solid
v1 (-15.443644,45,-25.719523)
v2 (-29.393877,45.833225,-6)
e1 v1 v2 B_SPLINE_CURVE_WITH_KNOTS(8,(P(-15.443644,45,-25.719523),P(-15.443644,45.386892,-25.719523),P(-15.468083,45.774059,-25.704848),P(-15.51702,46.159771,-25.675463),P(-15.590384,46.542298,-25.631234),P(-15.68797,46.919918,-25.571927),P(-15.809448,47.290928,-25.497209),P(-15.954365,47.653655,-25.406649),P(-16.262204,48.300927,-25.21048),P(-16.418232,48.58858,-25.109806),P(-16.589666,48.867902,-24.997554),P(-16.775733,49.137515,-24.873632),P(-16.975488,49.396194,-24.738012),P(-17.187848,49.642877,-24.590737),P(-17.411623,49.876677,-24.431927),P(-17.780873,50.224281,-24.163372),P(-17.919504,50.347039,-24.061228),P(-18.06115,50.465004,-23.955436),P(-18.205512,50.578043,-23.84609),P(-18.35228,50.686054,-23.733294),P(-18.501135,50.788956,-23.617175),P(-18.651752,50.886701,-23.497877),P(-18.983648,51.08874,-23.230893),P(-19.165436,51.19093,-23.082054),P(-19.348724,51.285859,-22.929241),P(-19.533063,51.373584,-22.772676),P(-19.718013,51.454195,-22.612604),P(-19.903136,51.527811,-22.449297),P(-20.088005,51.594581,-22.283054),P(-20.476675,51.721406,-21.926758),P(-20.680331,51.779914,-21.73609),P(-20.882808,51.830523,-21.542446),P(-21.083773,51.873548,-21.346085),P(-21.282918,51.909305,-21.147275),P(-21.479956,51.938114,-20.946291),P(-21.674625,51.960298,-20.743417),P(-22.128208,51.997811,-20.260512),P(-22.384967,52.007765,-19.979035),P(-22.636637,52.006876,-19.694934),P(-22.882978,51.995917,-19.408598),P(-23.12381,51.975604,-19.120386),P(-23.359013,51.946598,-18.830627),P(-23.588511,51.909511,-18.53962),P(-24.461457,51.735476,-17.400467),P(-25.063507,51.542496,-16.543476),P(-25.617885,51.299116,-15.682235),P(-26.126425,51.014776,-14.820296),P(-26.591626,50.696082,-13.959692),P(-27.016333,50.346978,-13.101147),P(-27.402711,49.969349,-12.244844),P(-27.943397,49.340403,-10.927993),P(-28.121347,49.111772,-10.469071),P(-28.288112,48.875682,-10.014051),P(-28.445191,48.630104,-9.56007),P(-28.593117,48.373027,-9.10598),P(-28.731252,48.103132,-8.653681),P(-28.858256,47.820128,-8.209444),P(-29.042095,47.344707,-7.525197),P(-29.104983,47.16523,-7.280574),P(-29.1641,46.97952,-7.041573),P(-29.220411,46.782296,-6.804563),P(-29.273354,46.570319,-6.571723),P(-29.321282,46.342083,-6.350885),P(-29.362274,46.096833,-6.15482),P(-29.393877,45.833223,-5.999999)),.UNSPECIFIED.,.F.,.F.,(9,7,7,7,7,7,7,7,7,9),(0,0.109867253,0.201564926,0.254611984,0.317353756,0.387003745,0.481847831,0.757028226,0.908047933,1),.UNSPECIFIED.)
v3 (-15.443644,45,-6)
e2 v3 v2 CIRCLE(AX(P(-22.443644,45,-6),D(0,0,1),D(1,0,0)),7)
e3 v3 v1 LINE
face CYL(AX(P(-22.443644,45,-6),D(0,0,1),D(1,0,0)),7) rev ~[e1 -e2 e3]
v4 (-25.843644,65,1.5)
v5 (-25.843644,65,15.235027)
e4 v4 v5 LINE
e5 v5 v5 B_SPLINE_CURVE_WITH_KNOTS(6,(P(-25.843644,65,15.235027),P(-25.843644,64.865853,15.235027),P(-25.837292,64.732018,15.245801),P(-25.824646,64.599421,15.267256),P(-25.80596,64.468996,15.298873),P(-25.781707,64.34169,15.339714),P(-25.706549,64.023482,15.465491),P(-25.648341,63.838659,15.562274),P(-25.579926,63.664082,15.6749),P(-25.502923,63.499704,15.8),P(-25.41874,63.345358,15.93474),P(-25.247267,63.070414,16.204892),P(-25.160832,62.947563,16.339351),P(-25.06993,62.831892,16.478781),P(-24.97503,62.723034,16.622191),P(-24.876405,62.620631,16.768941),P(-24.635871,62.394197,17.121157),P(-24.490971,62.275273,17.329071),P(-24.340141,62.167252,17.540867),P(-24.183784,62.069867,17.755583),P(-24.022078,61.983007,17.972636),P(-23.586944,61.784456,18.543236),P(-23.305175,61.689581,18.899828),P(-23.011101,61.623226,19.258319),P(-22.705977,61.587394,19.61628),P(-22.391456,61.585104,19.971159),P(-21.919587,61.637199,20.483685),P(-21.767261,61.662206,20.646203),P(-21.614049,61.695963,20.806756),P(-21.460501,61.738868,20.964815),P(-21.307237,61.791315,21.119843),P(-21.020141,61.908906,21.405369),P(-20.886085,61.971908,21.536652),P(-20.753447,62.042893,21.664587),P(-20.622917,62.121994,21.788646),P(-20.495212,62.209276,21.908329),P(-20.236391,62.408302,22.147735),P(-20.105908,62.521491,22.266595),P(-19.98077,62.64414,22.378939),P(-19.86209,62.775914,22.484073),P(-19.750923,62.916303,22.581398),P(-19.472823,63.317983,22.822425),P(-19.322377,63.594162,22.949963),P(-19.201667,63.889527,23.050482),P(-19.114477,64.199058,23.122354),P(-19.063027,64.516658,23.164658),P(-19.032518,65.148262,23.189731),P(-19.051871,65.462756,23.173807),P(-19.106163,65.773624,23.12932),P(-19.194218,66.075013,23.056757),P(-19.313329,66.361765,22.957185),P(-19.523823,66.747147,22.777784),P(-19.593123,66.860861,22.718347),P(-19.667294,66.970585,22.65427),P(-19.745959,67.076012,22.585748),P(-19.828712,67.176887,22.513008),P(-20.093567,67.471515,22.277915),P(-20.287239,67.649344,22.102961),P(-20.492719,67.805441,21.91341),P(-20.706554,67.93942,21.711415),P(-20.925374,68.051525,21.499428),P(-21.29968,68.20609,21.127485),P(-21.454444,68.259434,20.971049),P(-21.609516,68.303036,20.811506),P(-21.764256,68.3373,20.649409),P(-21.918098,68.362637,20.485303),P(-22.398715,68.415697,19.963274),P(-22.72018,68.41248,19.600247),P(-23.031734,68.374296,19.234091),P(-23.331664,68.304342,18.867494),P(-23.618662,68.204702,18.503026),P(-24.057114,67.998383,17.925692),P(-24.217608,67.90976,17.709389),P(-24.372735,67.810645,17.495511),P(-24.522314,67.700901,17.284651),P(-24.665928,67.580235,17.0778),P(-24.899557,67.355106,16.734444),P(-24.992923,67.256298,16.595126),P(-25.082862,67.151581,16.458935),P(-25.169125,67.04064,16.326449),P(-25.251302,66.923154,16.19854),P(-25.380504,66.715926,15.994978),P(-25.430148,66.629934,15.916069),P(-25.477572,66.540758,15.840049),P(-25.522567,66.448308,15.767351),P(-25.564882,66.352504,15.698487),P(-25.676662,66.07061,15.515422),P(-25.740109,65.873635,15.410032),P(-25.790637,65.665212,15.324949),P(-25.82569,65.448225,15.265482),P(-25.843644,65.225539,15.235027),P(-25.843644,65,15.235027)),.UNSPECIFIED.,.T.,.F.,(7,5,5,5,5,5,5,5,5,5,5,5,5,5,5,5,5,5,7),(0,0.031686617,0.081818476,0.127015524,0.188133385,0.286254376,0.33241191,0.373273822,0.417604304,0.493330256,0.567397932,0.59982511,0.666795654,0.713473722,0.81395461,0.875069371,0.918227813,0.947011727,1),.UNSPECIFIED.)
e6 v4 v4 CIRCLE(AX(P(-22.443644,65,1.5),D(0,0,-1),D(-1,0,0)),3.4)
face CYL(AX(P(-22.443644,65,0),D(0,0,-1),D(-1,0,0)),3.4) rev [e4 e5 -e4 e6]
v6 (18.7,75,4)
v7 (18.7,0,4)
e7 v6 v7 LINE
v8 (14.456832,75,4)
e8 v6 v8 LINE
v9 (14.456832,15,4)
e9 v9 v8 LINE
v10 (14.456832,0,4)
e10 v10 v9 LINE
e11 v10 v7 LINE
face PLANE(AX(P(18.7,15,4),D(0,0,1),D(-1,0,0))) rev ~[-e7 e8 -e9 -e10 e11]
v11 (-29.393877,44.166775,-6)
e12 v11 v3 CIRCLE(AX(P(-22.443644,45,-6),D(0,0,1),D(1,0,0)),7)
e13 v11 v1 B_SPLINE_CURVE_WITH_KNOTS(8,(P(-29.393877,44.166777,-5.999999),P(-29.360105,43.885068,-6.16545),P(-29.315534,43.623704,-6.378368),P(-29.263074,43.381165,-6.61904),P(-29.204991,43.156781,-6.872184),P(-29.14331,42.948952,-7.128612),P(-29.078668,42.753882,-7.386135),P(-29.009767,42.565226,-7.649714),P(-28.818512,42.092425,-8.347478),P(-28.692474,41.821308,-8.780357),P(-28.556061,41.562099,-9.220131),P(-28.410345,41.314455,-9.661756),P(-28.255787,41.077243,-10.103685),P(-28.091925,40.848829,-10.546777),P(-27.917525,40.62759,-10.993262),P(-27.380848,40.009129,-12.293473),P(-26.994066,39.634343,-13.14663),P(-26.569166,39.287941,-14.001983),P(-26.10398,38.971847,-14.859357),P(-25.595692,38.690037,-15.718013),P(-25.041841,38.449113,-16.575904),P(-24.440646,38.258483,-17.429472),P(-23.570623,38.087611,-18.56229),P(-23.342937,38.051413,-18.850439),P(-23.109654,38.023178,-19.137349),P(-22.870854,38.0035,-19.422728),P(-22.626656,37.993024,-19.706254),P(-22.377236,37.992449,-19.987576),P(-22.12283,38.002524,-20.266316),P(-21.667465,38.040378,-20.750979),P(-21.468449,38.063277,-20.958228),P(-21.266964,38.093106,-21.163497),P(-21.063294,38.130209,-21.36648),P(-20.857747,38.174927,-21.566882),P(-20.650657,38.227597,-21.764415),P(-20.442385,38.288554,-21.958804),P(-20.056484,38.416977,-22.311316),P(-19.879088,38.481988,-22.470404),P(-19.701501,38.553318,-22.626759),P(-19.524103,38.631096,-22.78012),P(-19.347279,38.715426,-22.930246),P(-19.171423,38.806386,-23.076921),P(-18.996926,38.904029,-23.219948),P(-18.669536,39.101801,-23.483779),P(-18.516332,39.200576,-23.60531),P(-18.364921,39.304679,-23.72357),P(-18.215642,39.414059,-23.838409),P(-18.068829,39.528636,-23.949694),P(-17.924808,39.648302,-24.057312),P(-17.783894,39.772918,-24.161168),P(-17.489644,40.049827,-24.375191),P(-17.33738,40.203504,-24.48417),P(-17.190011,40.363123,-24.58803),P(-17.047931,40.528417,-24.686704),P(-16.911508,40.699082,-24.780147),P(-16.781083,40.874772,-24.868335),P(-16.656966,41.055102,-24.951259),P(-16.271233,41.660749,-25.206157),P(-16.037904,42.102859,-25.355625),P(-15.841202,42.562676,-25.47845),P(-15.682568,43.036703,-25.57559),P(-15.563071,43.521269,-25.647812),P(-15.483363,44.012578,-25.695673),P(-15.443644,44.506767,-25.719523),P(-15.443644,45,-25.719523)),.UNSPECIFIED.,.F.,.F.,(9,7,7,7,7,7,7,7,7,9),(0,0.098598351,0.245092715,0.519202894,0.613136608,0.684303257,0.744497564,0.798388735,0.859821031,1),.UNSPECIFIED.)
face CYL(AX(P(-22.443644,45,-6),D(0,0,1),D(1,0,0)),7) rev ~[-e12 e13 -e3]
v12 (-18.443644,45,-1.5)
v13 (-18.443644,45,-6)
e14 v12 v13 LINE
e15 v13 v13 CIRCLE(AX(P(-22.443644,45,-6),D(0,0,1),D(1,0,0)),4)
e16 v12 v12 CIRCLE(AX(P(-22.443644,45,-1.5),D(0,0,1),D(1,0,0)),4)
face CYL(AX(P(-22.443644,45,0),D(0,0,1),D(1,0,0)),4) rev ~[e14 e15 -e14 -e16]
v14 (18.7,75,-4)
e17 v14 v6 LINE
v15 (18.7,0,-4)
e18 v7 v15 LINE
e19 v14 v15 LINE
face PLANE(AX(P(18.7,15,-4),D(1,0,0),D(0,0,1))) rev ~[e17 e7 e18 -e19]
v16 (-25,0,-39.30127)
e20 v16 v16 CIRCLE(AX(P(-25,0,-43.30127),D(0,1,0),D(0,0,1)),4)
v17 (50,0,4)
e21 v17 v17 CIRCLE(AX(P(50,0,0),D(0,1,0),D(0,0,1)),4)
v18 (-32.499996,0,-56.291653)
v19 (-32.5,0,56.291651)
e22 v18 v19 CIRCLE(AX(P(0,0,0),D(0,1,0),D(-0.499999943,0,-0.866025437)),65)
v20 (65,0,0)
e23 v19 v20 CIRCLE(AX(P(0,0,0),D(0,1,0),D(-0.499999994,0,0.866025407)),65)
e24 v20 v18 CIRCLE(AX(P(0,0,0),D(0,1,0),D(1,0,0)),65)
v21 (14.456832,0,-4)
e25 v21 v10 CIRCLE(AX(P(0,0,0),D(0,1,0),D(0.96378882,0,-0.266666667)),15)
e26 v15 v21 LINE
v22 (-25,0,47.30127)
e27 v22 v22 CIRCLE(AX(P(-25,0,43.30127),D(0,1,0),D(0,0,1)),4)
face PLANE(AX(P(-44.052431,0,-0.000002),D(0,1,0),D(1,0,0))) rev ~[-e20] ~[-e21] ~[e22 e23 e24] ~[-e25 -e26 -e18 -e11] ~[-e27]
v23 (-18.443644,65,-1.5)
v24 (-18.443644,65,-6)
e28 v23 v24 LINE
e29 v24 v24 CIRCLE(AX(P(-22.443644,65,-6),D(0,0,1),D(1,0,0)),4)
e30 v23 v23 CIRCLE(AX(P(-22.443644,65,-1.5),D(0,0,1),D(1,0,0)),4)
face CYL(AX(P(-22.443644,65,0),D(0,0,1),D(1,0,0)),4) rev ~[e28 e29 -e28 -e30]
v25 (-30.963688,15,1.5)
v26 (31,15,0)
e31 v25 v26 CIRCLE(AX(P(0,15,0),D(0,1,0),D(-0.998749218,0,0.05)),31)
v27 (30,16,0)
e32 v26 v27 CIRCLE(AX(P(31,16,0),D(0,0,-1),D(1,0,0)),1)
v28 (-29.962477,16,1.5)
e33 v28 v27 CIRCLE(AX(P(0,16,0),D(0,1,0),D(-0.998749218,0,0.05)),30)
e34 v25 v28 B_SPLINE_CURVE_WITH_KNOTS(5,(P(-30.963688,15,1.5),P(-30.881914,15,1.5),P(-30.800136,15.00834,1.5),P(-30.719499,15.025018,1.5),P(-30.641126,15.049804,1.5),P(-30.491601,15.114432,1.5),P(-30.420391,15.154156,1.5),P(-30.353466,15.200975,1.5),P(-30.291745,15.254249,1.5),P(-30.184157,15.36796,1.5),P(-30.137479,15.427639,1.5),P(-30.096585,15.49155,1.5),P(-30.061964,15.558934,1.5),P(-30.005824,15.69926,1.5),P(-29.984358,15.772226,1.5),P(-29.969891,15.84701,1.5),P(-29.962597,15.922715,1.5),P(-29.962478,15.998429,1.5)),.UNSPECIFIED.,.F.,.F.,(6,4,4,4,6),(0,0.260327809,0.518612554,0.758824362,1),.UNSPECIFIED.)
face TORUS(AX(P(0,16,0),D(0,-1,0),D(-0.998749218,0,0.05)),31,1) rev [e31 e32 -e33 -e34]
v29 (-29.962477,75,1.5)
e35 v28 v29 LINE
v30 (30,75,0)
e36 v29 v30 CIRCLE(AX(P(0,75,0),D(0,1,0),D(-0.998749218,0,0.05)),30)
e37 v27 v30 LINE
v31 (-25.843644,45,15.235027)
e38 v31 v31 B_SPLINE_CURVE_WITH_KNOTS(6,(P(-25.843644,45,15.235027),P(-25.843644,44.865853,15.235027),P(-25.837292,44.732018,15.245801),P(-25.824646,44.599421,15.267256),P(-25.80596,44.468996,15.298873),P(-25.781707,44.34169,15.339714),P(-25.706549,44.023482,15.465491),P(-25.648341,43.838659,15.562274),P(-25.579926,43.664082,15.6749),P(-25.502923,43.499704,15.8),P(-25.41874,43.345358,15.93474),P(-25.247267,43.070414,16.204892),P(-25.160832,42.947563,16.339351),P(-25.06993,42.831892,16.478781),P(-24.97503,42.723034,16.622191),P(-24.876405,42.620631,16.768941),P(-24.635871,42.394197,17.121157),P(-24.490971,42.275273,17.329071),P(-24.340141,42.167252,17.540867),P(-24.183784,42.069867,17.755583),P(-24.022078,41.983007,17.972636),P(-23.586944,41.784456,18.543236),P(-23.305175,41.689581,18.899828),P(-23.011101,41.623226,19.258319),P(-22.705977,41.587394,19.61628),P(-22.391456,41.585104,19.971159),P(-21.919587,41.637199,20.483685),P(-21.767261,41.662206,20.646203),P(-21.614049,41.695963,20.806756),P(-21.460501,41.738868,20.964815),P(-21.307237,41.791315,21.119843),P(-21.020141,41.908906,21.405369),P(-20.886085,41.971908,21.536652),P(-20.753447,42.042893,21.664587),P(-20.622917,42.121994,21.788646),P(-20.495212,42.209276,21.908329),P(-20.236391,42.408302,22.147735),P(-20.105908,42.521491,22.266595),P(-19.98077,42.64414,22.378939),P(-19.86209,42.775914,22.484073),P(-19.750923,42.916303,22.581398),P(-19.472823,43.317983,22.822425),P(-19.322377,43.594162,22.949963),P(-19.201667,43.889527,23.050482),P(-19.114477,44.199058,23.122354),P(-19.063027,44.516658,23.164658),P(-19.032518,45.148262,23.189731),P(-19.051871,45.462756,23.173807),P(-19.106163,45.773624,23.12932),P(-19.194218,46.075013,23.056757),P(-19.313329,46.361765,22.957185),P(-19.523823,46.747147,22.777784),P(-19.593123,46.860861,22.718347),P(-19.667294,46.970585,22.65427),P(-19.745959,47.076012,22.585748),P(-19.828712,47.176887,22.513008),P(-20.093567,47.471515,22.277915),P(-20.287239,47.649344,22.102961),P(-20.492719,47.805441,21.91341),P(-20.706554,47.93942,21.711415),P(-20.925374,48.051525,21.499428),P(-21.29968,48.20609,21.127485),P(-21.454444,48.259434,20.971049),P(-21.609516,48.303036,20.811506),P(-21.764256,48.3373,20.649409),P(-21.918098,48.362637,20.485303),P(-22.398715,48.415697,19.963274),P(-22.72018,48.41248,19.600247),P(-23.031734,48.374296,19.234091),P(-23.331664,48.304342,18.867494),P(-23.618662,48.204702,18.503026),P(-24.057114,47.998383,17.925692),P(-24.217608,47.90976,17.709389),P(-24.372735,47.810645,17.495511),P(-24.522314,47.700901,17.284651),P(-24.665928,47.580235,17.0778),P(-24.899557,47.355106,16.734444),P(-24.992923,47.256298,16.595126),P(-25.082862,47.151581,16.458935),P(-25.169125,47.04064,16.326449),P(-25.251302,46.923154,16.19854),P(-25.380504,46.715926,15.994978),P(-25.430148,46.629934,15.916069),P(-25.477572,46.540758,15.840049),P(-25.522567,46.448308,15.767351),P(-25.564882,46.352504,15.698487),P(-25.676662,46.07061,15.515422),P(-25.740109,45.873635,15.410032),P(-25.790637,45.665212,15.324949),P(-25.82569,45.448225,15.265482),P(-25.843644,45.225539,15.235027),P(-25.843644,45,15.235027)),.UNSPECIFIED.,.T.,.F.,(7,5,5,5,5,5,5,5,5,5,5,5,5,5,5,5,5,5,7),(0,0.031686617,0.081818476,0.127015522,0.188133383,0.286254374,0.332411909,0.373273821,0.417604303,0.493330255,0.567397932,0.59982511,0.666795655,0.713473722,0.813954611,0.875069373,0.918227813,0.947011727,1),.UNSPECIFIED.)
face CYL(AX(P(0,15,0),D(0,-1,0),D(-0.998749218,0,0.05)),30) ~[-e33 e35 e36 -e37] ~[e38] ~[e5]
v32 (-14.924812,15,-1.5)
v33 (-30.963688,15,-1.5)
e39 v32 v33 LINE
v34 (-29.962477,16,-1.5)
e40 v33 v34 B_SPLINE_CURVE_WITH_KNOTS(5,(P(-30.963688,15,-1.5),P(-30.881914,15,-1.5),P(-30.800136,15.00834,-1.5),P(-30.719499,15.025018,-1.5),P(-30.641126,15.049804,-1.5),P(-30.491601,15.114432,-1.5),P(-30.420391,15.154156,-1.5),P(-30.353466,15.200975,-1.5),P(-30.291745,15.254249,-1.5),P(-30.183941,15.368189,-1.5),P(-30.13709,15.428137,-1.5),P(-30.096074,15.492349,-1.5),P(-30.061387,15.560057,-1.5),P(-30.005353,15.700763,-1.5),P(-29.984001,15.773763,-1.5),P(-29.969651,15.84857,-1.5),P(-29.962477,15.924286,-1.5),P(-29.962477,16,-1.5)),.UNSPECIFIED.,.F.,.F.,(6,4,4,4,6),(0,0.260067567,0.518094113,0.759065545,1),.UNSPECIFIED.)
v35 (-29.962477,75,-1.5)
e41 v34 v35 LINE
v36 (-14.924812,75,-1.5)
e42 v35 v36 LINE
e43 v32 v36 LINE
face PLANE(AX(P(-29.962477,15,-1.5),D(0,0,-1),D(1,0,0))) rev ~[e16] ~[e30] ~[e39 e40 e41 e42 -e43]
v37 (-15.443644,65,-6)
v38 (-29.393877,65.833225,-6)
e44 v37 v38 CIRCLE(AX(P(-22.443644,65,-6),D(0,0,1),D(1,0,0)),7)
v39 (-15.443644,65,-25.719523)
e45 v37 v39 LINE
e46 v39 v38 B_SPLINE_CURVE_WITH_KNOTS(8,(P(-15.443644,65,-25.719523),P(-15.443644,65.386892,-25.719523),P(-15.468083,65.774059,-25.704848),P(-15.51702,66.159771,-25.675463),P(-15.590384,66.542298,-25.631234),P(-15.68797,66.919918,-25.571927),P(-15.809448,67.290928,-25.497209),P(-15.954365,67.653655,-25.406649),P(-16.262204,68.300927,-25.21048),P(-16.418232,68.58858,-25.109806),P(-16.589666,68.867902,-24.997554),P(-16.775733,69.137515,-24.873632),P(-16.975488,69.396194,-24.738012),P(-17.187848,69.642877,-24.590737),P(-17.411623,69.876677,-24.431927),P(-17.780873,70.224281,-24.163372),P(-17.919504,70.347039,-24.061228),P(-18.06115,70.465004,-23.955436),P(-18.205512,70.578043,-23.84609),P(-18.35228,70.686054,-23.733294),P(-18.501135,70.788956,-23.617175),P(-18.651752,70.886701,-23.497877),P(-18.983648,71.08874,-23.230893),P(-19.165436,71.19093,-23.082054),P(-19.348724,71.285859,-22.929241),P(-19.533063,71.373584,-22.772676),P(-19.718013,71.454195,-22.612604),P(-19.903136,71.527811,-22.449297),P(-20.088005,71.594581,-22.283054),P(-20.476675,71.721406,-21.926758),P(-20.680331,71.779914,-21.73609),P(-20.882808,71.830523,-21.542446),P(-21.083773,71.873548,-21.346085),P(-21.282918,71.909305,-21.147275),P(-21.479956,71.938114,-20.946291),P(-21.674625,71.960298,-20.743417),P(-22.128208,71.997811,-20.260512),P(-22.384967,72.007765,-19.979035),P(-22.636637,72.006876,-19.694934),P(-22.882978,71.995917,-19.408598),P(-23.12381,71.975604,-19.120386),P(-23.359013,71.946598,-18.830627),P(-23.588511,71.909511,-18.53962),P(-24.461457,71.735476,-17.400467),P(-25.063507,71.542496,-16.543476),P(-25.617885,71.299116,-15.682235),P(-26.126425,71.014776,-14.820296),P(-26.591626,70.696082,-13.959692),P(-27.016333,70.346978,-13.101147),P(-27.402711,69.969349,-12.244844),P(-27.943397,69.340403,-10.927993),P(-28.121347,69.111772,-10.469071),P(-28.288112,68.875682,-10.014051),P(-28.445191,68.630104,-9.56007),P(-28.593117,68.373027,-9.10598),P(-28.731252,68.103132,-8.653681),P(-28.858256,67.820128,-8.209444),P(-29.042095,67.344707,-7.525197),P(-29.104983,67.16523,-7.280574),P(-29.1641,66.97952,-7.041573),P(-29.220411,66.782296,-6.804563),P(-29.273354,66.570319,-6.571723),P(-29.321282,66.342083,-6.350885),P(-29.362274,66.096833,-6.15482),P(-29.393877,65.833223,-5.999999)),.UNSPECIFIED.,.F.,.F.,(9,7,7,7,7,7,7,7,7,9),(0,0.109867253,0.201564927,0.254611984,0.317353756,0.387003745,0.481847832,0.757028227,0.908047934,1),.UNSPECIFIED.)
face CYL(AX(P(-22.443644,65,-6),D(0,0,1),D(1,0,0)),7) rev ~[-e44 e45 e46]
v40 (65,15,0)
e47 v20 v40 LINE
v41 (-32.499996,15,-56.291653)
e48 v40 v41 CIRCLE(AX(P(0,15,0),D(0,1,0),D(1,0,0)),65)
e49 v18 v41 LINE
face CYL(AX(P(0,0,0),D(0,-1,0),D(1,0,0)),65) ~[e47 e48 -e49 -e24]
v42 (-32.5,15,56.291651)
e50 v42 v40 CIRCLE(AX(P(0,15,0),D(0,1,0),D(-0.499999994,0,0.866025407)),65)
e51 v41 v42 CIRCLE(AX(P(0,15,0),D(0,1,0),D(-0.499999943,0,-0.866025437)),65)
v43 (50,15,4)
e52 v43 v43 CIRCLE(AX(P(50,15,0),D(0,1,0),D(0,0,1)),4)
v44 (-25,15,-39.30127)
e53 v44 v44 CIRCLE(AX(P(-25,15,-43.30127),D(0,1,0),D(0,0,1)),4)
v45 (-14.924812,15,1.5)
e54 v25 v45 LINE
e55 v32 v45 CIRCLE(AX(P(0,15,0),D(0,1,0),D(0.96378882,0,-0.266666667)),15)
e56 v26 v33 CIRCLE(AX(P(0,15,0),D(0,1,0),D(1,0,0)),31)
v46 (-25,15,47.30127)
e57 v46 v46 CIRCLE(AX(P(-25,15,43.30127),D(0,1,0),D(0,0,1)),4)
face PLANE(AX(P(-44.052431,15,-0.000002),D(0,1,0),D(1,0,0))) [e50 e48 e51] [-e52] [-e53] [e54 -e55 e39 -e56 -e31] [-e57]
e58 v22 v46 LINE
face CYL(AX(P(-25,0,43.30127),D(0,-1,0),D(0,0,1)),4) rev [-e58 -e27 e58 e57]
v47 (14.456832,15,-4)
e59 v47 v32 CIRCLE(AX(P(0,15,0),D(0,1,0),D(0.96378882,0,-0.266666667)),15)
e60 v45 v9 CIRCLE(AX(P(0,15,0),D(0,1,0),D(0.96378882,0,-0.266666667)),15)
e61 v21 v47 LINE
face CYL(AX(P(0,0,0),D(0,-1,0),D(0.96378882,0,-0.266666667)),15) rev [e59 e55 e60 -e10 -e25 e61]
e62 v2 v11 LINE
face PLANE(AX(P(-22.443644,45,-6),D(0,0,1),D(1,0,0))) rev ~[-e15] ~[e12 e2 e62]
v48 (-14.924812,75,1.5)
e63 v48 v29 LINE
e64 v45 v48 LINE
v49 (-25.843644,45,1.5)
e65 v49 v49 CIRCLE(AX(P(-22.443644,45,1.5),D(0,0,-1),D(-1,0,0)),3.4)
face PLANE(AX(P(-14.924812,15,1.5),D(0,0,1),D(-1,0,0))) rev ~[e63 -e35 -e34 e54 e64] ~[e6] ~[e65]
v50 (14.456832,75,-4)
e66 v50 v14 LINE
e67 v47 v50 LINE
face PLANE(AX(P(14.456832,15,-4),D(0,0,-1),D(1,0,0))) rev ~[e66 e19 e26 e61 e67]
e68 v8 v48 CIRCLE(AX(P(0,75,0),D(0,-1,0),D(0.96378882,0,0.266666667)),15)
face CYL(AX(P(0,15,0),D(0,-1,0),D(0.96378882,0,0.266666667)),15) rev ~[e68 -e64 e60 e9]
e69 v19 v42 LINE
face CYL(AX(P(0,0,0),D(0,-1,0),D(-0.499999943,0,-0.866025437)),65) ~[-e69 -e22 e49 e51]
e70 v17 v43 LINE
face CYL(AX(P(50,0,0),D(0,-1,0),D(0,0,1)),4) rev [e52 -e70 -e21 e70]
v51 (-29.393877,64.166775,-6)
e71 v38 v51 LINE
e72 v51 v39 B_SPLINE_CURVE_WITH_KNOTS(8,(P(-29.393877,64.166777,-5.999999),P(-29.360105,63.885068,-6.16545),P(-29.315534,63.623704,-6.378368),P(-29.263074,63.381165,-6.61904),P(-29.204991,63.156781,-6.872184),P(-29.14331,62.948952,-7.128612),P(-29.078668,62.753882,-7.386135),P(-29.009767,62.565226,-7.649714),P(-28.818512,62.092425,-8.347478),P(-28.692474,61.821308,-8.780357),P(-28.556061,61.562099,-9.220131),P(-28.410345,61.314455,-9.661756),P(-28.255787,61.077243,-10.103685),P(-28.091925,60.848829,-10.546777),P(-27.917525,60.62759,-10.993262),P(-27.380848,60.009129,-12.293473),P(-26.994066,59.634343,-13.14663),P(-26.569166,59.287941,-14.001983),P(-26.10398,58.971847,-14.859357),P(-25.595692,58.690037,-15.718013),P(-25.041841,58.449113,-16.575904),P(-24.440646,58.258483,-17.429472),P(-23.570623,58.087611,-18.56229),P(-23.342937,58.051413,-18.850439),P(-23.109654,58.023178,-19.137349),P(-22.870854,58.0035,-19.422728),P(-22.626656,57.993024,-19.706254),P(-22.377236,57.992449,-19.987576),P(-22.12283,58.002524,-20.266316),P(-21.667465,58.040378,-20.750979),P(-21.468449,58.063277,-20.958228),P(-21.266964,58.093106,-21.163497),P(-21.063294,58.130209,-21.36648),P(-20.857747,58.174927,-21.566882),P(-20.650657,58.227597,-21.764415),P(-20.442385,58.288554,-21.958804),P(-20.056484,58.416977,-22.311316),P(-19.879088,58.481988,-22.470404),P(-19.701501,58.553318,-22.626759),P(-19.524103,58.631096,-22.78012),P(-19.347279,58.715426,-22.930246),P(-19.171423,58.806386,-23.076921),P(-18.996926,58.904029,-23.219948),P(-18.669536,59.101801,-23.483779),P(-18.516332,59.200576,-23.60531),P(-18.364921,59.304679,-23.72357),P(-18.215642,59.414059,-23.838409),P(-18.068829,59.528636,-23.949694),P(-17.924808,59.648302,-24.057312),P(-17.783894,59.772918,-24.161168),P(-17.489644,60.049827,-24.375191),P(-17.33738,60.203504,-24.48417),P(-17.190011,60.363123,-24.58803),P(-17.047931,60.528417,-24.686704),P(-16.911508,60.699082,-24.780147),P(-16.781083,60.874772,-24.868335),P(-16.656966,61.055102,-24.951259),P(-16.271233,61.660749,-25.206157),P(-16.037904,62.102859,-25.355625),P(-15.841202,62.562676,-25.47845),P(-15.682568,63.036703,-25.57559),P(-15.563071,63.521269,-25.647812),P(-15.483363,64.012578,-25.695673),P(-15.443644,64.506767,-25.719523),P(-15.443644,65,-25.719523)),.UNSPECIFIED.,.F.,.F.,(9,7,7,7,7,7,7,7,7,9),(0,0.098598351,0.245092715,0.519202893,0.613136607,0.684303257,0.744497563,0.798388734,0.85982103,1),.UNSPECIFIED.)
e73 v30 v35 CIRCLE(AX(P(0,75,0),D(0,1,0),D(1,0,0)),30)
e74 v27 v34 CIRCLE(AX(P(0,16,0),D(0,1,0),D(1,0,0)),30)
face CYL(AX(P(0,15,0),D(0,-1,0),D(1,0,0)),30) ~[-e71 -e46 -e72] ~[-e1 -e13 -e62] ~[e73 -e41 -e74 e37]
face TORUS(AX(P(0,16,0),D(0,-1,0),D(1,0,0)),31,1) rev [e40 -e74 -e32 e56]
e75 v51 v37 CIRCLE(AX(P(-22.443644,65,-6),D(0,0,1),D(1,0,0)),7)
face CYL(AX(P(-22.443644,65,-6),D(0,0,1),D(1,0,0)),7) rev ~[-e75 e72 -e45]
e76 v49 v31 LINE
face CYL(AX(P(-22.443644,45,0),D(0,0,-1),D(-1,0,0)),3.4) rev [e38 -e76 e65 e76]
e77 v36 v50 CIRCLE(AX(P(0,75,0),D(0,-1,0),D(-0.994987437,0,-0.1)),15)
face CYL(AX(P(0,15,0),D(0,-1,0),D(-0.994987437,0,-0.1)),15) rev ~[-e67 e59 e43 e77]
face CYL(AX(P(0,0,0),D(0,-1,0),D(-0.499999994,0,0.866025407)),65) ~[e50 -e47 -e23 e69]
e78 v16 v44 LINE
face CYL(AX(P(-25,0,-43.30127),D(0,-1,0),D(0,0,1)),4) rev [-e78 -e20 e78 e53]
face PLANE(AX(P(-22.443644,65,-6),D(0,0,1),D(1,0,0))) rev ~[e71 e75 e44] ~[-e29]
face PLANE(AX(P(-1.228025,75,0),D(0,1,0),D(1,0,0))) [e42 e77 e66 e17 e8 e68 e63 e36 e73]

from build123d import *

# Parameters (mm, degrees)
SKETCH3_R           = 4
BOSS_EXTRUDE1_DEPTH = 15
BOSS_EXTRUDE2_DEPTH = 60
FILLET1_R           = 1
SKETCH6_R           = 3.4
CUT_EXTRUDE1_DEPTH  = 116.10446612
SKETCH7_R           = 4
CUT_EXTRUDE2_DEPTH  = 116.10446612
CUT_EXTRUDE3_START  = -6
SKETCH8_R           = 7
CUT_EXTRUDE3_DEPTH  = 110.10446612
BOSS_EXTRUDE3_DEPTH = 15


with BuildPart() as part:
    # Sketch3 → Boss-Extrude1 (new body)
    with BuildSketch(Plane(origin=(0, 0, 0), x_dir=(1, 0, 0), z_dir=(0, 1, 0))):
        with BuildLine():
            ThreePointArc((52.056720354, -14.858327678), (65, 0), (52.056720354, 14.858327678))
            ThreePointArc((52.056720354, 14.858327678), (15.768189382, 27.311305152), (-13.16067095, 52.511606103))
            ThreePointArc((-13.16067095, 52.511606103), (-32.5, 56.291651246), (-38.896049404, 37.653278425))
            ThreePointArc((-38.896049404, 37.653278425), (-31.536378763, 0), (-38.896049404, -37.653278425))
            ThreePointArc((-38.896049404, -37.653278425), (-32.5, -56.291651246), (-13.16067095, -52.511606103))
            ThreePointArc((-13.16067095, -52.511606103), (15.768189382, -27.311305152), (52.056720354, -14.858327678))
        make_face()
        with Locations(Location((-25, 43.301270189, 0), (0, 0, 270))):
            Circle(SKETCH3_R, mode=Mode.SUBTRACT)
        with Locations(Location((-25, -43.301270189, 0), (0, 0, 270))):
            Circle(SKETCH3_R, mode=Mode.SUBTRACT)
        with Locations(Location((50, 0, 0), (0, 0, 270))):
            Circle(SKETCH3_R, mode=Mode.SUBTRACT)
        with BuildLine():
            Line((18.7, 4), (14.456832295, 4))
            ThreePointArc((14.456832295, 4), (-15, 0), (14.456832295, -4))
            Line((14.456832295, -4), (18.7, -4))
            Line((18.7, -4), (18.7, 4))
        make_face(mode=Mode.SUBTRACT)
    extrude(amount=BOSS_EXTRUDE1_DEPTH)

    # Sketch4 → Boss-Extrude2 (add)
    with BuildSketch(Plane(origin=(0, 15, 0), x_dir=(1, 0, 0), z_dir=(0, 1, 0))):
        with BuildLine():
            Line((18.7, -4), (14.456832295, -4))
            ThreePointArc((14.456832295, -4), (-1.271711896, -14.945994408), (-14.924811557, -1.5))
            Line((-14.924811557, -1.5), (-29.962476533, -1.5))
            ThreePointArc((-29.962476533, -1.5), (0.750234632, -29.990617666), (30, 0))
            ThreePointArc((30, 0), (0.750234632, 29.990617666), (-29.962476533, 1.5))
            Line((-29.962476533, 1.5), (-14.924811557, 1.5))
            ThreePointArc((-14.924811557, 1.5), (-1.271711896, 14.945994408), (14.456832295, 4))
            Line((14.456832295, 4), (18.7, 4))
            Line((18.7, 4), (18.7, -4))
        make_face()
    extrude(amount=BOSS_EXTRUDE2_DEPTH)

    # Fillet1
    fillet1_edges = [part.edges().sort_by_distance(p)[0] for p in [
        (30, 15, 0),
    ]]
    fillet(fillet1_edges, radius=FILLET1_R)

    # Sketch6 → Cut-Extrude1 (cut, through all)
    with BuildSketch(Plane.XY):
        with Locations(Location((-22.443644045, 65, 0), (0, 0, 180))):
            Circle(SKETCH6_R)
        with Locations(Location((-22.443644045, 45, 0), (0, 0, 180))):
            Circle(SKETCH6_R)
    extrude(amount=CUT_EXTRUDE1_DEPTH, mode=Mode.SUBTRACT)

    # Sketch7 → Cut-Extrude2 (cut, through all)
    with BuildSketch(Plane.XY):
        with Locations((-22.443644045, 65)):
            Circle(SKETCH7_R)
        with Locations((-22.443644045, 45)):
            Circle(SKETCH7_R)
    extrude(amount=-CUT_EXTRUDE2_DEPTH, mode=Mode.SUBTRACT)

    # Sketch8 → Cut-Extrude3 (cut, through all)
    with BuildSketch(Plane.XY.offset(CUT_EXTRUDE3_START)):
        with Locations((-22.443644045, 65)):
            Circle(SKETCH8_R)
        with Locations((-22.443644045, 45)):
            Circle(SKETCH8_R)
    extrude(amount=-CUT_EXTRUDE3_DEPTH, mode=Mode.SUBTRACT)

    # Sketch9 → Boss-Extrude3 (add)
    with BuildSketch(Plane(origin=(0, 0, 0), x_dir=(1, 0, 0), z_dir=(0, 1, 0))):
        with BuildLine():
            ThreePointArc((-38.896049404, 37.653278425), (-39.187845088, 48.170053586), (-32.499996308, 56.291653378))
            ThreePointArc((-32.499996308, 56.291653378), (-65, 1.908e-06), (-32.499999613, -56.29165147))
            ThreePointArc((-32.499999613, -56.29165147), (-39.187845707, -48.170051781), (-38.896049404, -37.653278425))
            ThreePointArc((-38.896049404, -37.653278425), (-31.536378763, 0), (-38.896049404, 37.653278425))
        make_face()
        with BuildLine():
            ThreePointArc((52.056720354, 14.858327678), (61.310411251, 9.85264418), (65, 0))
            ThreePointArc((65, 0), (32.500001846, 56.29165018), (-32.499996308, 56.291653378))
            ThreePointArc((-32.499996308, 56.291653378), (-22.122563378, 58.022695341), (-13.16067095, 52.511606103))
            ThreePointArc((-13.16067095, 52.511606103), (15.768189382, 27.311305152), (52.056720354, 14.858327678))
        make_face()
        with BuildLine():
            ThreePointArc((-32.499999613, -56.29165147), (32.500000194, -56.291651134), (65, 0))
            ThreePointArc((65, 0), (61.310411251, -9.85264418), (52.056720354, -14.858327678))
            ThreePointArc((52.056720354, -14.858327678), (15.768189382, -27.311305152), (-13.16067095, -52.511606103))
            ThreePointArc((-13.16067095, -52.511606103), (-22.122565251, -58.022695707), (-32.499999613, -56.29165147))
        make_face()
    extrude(amount=BOSS_EXTRUDE3_DEPTH)


solid = part.part
